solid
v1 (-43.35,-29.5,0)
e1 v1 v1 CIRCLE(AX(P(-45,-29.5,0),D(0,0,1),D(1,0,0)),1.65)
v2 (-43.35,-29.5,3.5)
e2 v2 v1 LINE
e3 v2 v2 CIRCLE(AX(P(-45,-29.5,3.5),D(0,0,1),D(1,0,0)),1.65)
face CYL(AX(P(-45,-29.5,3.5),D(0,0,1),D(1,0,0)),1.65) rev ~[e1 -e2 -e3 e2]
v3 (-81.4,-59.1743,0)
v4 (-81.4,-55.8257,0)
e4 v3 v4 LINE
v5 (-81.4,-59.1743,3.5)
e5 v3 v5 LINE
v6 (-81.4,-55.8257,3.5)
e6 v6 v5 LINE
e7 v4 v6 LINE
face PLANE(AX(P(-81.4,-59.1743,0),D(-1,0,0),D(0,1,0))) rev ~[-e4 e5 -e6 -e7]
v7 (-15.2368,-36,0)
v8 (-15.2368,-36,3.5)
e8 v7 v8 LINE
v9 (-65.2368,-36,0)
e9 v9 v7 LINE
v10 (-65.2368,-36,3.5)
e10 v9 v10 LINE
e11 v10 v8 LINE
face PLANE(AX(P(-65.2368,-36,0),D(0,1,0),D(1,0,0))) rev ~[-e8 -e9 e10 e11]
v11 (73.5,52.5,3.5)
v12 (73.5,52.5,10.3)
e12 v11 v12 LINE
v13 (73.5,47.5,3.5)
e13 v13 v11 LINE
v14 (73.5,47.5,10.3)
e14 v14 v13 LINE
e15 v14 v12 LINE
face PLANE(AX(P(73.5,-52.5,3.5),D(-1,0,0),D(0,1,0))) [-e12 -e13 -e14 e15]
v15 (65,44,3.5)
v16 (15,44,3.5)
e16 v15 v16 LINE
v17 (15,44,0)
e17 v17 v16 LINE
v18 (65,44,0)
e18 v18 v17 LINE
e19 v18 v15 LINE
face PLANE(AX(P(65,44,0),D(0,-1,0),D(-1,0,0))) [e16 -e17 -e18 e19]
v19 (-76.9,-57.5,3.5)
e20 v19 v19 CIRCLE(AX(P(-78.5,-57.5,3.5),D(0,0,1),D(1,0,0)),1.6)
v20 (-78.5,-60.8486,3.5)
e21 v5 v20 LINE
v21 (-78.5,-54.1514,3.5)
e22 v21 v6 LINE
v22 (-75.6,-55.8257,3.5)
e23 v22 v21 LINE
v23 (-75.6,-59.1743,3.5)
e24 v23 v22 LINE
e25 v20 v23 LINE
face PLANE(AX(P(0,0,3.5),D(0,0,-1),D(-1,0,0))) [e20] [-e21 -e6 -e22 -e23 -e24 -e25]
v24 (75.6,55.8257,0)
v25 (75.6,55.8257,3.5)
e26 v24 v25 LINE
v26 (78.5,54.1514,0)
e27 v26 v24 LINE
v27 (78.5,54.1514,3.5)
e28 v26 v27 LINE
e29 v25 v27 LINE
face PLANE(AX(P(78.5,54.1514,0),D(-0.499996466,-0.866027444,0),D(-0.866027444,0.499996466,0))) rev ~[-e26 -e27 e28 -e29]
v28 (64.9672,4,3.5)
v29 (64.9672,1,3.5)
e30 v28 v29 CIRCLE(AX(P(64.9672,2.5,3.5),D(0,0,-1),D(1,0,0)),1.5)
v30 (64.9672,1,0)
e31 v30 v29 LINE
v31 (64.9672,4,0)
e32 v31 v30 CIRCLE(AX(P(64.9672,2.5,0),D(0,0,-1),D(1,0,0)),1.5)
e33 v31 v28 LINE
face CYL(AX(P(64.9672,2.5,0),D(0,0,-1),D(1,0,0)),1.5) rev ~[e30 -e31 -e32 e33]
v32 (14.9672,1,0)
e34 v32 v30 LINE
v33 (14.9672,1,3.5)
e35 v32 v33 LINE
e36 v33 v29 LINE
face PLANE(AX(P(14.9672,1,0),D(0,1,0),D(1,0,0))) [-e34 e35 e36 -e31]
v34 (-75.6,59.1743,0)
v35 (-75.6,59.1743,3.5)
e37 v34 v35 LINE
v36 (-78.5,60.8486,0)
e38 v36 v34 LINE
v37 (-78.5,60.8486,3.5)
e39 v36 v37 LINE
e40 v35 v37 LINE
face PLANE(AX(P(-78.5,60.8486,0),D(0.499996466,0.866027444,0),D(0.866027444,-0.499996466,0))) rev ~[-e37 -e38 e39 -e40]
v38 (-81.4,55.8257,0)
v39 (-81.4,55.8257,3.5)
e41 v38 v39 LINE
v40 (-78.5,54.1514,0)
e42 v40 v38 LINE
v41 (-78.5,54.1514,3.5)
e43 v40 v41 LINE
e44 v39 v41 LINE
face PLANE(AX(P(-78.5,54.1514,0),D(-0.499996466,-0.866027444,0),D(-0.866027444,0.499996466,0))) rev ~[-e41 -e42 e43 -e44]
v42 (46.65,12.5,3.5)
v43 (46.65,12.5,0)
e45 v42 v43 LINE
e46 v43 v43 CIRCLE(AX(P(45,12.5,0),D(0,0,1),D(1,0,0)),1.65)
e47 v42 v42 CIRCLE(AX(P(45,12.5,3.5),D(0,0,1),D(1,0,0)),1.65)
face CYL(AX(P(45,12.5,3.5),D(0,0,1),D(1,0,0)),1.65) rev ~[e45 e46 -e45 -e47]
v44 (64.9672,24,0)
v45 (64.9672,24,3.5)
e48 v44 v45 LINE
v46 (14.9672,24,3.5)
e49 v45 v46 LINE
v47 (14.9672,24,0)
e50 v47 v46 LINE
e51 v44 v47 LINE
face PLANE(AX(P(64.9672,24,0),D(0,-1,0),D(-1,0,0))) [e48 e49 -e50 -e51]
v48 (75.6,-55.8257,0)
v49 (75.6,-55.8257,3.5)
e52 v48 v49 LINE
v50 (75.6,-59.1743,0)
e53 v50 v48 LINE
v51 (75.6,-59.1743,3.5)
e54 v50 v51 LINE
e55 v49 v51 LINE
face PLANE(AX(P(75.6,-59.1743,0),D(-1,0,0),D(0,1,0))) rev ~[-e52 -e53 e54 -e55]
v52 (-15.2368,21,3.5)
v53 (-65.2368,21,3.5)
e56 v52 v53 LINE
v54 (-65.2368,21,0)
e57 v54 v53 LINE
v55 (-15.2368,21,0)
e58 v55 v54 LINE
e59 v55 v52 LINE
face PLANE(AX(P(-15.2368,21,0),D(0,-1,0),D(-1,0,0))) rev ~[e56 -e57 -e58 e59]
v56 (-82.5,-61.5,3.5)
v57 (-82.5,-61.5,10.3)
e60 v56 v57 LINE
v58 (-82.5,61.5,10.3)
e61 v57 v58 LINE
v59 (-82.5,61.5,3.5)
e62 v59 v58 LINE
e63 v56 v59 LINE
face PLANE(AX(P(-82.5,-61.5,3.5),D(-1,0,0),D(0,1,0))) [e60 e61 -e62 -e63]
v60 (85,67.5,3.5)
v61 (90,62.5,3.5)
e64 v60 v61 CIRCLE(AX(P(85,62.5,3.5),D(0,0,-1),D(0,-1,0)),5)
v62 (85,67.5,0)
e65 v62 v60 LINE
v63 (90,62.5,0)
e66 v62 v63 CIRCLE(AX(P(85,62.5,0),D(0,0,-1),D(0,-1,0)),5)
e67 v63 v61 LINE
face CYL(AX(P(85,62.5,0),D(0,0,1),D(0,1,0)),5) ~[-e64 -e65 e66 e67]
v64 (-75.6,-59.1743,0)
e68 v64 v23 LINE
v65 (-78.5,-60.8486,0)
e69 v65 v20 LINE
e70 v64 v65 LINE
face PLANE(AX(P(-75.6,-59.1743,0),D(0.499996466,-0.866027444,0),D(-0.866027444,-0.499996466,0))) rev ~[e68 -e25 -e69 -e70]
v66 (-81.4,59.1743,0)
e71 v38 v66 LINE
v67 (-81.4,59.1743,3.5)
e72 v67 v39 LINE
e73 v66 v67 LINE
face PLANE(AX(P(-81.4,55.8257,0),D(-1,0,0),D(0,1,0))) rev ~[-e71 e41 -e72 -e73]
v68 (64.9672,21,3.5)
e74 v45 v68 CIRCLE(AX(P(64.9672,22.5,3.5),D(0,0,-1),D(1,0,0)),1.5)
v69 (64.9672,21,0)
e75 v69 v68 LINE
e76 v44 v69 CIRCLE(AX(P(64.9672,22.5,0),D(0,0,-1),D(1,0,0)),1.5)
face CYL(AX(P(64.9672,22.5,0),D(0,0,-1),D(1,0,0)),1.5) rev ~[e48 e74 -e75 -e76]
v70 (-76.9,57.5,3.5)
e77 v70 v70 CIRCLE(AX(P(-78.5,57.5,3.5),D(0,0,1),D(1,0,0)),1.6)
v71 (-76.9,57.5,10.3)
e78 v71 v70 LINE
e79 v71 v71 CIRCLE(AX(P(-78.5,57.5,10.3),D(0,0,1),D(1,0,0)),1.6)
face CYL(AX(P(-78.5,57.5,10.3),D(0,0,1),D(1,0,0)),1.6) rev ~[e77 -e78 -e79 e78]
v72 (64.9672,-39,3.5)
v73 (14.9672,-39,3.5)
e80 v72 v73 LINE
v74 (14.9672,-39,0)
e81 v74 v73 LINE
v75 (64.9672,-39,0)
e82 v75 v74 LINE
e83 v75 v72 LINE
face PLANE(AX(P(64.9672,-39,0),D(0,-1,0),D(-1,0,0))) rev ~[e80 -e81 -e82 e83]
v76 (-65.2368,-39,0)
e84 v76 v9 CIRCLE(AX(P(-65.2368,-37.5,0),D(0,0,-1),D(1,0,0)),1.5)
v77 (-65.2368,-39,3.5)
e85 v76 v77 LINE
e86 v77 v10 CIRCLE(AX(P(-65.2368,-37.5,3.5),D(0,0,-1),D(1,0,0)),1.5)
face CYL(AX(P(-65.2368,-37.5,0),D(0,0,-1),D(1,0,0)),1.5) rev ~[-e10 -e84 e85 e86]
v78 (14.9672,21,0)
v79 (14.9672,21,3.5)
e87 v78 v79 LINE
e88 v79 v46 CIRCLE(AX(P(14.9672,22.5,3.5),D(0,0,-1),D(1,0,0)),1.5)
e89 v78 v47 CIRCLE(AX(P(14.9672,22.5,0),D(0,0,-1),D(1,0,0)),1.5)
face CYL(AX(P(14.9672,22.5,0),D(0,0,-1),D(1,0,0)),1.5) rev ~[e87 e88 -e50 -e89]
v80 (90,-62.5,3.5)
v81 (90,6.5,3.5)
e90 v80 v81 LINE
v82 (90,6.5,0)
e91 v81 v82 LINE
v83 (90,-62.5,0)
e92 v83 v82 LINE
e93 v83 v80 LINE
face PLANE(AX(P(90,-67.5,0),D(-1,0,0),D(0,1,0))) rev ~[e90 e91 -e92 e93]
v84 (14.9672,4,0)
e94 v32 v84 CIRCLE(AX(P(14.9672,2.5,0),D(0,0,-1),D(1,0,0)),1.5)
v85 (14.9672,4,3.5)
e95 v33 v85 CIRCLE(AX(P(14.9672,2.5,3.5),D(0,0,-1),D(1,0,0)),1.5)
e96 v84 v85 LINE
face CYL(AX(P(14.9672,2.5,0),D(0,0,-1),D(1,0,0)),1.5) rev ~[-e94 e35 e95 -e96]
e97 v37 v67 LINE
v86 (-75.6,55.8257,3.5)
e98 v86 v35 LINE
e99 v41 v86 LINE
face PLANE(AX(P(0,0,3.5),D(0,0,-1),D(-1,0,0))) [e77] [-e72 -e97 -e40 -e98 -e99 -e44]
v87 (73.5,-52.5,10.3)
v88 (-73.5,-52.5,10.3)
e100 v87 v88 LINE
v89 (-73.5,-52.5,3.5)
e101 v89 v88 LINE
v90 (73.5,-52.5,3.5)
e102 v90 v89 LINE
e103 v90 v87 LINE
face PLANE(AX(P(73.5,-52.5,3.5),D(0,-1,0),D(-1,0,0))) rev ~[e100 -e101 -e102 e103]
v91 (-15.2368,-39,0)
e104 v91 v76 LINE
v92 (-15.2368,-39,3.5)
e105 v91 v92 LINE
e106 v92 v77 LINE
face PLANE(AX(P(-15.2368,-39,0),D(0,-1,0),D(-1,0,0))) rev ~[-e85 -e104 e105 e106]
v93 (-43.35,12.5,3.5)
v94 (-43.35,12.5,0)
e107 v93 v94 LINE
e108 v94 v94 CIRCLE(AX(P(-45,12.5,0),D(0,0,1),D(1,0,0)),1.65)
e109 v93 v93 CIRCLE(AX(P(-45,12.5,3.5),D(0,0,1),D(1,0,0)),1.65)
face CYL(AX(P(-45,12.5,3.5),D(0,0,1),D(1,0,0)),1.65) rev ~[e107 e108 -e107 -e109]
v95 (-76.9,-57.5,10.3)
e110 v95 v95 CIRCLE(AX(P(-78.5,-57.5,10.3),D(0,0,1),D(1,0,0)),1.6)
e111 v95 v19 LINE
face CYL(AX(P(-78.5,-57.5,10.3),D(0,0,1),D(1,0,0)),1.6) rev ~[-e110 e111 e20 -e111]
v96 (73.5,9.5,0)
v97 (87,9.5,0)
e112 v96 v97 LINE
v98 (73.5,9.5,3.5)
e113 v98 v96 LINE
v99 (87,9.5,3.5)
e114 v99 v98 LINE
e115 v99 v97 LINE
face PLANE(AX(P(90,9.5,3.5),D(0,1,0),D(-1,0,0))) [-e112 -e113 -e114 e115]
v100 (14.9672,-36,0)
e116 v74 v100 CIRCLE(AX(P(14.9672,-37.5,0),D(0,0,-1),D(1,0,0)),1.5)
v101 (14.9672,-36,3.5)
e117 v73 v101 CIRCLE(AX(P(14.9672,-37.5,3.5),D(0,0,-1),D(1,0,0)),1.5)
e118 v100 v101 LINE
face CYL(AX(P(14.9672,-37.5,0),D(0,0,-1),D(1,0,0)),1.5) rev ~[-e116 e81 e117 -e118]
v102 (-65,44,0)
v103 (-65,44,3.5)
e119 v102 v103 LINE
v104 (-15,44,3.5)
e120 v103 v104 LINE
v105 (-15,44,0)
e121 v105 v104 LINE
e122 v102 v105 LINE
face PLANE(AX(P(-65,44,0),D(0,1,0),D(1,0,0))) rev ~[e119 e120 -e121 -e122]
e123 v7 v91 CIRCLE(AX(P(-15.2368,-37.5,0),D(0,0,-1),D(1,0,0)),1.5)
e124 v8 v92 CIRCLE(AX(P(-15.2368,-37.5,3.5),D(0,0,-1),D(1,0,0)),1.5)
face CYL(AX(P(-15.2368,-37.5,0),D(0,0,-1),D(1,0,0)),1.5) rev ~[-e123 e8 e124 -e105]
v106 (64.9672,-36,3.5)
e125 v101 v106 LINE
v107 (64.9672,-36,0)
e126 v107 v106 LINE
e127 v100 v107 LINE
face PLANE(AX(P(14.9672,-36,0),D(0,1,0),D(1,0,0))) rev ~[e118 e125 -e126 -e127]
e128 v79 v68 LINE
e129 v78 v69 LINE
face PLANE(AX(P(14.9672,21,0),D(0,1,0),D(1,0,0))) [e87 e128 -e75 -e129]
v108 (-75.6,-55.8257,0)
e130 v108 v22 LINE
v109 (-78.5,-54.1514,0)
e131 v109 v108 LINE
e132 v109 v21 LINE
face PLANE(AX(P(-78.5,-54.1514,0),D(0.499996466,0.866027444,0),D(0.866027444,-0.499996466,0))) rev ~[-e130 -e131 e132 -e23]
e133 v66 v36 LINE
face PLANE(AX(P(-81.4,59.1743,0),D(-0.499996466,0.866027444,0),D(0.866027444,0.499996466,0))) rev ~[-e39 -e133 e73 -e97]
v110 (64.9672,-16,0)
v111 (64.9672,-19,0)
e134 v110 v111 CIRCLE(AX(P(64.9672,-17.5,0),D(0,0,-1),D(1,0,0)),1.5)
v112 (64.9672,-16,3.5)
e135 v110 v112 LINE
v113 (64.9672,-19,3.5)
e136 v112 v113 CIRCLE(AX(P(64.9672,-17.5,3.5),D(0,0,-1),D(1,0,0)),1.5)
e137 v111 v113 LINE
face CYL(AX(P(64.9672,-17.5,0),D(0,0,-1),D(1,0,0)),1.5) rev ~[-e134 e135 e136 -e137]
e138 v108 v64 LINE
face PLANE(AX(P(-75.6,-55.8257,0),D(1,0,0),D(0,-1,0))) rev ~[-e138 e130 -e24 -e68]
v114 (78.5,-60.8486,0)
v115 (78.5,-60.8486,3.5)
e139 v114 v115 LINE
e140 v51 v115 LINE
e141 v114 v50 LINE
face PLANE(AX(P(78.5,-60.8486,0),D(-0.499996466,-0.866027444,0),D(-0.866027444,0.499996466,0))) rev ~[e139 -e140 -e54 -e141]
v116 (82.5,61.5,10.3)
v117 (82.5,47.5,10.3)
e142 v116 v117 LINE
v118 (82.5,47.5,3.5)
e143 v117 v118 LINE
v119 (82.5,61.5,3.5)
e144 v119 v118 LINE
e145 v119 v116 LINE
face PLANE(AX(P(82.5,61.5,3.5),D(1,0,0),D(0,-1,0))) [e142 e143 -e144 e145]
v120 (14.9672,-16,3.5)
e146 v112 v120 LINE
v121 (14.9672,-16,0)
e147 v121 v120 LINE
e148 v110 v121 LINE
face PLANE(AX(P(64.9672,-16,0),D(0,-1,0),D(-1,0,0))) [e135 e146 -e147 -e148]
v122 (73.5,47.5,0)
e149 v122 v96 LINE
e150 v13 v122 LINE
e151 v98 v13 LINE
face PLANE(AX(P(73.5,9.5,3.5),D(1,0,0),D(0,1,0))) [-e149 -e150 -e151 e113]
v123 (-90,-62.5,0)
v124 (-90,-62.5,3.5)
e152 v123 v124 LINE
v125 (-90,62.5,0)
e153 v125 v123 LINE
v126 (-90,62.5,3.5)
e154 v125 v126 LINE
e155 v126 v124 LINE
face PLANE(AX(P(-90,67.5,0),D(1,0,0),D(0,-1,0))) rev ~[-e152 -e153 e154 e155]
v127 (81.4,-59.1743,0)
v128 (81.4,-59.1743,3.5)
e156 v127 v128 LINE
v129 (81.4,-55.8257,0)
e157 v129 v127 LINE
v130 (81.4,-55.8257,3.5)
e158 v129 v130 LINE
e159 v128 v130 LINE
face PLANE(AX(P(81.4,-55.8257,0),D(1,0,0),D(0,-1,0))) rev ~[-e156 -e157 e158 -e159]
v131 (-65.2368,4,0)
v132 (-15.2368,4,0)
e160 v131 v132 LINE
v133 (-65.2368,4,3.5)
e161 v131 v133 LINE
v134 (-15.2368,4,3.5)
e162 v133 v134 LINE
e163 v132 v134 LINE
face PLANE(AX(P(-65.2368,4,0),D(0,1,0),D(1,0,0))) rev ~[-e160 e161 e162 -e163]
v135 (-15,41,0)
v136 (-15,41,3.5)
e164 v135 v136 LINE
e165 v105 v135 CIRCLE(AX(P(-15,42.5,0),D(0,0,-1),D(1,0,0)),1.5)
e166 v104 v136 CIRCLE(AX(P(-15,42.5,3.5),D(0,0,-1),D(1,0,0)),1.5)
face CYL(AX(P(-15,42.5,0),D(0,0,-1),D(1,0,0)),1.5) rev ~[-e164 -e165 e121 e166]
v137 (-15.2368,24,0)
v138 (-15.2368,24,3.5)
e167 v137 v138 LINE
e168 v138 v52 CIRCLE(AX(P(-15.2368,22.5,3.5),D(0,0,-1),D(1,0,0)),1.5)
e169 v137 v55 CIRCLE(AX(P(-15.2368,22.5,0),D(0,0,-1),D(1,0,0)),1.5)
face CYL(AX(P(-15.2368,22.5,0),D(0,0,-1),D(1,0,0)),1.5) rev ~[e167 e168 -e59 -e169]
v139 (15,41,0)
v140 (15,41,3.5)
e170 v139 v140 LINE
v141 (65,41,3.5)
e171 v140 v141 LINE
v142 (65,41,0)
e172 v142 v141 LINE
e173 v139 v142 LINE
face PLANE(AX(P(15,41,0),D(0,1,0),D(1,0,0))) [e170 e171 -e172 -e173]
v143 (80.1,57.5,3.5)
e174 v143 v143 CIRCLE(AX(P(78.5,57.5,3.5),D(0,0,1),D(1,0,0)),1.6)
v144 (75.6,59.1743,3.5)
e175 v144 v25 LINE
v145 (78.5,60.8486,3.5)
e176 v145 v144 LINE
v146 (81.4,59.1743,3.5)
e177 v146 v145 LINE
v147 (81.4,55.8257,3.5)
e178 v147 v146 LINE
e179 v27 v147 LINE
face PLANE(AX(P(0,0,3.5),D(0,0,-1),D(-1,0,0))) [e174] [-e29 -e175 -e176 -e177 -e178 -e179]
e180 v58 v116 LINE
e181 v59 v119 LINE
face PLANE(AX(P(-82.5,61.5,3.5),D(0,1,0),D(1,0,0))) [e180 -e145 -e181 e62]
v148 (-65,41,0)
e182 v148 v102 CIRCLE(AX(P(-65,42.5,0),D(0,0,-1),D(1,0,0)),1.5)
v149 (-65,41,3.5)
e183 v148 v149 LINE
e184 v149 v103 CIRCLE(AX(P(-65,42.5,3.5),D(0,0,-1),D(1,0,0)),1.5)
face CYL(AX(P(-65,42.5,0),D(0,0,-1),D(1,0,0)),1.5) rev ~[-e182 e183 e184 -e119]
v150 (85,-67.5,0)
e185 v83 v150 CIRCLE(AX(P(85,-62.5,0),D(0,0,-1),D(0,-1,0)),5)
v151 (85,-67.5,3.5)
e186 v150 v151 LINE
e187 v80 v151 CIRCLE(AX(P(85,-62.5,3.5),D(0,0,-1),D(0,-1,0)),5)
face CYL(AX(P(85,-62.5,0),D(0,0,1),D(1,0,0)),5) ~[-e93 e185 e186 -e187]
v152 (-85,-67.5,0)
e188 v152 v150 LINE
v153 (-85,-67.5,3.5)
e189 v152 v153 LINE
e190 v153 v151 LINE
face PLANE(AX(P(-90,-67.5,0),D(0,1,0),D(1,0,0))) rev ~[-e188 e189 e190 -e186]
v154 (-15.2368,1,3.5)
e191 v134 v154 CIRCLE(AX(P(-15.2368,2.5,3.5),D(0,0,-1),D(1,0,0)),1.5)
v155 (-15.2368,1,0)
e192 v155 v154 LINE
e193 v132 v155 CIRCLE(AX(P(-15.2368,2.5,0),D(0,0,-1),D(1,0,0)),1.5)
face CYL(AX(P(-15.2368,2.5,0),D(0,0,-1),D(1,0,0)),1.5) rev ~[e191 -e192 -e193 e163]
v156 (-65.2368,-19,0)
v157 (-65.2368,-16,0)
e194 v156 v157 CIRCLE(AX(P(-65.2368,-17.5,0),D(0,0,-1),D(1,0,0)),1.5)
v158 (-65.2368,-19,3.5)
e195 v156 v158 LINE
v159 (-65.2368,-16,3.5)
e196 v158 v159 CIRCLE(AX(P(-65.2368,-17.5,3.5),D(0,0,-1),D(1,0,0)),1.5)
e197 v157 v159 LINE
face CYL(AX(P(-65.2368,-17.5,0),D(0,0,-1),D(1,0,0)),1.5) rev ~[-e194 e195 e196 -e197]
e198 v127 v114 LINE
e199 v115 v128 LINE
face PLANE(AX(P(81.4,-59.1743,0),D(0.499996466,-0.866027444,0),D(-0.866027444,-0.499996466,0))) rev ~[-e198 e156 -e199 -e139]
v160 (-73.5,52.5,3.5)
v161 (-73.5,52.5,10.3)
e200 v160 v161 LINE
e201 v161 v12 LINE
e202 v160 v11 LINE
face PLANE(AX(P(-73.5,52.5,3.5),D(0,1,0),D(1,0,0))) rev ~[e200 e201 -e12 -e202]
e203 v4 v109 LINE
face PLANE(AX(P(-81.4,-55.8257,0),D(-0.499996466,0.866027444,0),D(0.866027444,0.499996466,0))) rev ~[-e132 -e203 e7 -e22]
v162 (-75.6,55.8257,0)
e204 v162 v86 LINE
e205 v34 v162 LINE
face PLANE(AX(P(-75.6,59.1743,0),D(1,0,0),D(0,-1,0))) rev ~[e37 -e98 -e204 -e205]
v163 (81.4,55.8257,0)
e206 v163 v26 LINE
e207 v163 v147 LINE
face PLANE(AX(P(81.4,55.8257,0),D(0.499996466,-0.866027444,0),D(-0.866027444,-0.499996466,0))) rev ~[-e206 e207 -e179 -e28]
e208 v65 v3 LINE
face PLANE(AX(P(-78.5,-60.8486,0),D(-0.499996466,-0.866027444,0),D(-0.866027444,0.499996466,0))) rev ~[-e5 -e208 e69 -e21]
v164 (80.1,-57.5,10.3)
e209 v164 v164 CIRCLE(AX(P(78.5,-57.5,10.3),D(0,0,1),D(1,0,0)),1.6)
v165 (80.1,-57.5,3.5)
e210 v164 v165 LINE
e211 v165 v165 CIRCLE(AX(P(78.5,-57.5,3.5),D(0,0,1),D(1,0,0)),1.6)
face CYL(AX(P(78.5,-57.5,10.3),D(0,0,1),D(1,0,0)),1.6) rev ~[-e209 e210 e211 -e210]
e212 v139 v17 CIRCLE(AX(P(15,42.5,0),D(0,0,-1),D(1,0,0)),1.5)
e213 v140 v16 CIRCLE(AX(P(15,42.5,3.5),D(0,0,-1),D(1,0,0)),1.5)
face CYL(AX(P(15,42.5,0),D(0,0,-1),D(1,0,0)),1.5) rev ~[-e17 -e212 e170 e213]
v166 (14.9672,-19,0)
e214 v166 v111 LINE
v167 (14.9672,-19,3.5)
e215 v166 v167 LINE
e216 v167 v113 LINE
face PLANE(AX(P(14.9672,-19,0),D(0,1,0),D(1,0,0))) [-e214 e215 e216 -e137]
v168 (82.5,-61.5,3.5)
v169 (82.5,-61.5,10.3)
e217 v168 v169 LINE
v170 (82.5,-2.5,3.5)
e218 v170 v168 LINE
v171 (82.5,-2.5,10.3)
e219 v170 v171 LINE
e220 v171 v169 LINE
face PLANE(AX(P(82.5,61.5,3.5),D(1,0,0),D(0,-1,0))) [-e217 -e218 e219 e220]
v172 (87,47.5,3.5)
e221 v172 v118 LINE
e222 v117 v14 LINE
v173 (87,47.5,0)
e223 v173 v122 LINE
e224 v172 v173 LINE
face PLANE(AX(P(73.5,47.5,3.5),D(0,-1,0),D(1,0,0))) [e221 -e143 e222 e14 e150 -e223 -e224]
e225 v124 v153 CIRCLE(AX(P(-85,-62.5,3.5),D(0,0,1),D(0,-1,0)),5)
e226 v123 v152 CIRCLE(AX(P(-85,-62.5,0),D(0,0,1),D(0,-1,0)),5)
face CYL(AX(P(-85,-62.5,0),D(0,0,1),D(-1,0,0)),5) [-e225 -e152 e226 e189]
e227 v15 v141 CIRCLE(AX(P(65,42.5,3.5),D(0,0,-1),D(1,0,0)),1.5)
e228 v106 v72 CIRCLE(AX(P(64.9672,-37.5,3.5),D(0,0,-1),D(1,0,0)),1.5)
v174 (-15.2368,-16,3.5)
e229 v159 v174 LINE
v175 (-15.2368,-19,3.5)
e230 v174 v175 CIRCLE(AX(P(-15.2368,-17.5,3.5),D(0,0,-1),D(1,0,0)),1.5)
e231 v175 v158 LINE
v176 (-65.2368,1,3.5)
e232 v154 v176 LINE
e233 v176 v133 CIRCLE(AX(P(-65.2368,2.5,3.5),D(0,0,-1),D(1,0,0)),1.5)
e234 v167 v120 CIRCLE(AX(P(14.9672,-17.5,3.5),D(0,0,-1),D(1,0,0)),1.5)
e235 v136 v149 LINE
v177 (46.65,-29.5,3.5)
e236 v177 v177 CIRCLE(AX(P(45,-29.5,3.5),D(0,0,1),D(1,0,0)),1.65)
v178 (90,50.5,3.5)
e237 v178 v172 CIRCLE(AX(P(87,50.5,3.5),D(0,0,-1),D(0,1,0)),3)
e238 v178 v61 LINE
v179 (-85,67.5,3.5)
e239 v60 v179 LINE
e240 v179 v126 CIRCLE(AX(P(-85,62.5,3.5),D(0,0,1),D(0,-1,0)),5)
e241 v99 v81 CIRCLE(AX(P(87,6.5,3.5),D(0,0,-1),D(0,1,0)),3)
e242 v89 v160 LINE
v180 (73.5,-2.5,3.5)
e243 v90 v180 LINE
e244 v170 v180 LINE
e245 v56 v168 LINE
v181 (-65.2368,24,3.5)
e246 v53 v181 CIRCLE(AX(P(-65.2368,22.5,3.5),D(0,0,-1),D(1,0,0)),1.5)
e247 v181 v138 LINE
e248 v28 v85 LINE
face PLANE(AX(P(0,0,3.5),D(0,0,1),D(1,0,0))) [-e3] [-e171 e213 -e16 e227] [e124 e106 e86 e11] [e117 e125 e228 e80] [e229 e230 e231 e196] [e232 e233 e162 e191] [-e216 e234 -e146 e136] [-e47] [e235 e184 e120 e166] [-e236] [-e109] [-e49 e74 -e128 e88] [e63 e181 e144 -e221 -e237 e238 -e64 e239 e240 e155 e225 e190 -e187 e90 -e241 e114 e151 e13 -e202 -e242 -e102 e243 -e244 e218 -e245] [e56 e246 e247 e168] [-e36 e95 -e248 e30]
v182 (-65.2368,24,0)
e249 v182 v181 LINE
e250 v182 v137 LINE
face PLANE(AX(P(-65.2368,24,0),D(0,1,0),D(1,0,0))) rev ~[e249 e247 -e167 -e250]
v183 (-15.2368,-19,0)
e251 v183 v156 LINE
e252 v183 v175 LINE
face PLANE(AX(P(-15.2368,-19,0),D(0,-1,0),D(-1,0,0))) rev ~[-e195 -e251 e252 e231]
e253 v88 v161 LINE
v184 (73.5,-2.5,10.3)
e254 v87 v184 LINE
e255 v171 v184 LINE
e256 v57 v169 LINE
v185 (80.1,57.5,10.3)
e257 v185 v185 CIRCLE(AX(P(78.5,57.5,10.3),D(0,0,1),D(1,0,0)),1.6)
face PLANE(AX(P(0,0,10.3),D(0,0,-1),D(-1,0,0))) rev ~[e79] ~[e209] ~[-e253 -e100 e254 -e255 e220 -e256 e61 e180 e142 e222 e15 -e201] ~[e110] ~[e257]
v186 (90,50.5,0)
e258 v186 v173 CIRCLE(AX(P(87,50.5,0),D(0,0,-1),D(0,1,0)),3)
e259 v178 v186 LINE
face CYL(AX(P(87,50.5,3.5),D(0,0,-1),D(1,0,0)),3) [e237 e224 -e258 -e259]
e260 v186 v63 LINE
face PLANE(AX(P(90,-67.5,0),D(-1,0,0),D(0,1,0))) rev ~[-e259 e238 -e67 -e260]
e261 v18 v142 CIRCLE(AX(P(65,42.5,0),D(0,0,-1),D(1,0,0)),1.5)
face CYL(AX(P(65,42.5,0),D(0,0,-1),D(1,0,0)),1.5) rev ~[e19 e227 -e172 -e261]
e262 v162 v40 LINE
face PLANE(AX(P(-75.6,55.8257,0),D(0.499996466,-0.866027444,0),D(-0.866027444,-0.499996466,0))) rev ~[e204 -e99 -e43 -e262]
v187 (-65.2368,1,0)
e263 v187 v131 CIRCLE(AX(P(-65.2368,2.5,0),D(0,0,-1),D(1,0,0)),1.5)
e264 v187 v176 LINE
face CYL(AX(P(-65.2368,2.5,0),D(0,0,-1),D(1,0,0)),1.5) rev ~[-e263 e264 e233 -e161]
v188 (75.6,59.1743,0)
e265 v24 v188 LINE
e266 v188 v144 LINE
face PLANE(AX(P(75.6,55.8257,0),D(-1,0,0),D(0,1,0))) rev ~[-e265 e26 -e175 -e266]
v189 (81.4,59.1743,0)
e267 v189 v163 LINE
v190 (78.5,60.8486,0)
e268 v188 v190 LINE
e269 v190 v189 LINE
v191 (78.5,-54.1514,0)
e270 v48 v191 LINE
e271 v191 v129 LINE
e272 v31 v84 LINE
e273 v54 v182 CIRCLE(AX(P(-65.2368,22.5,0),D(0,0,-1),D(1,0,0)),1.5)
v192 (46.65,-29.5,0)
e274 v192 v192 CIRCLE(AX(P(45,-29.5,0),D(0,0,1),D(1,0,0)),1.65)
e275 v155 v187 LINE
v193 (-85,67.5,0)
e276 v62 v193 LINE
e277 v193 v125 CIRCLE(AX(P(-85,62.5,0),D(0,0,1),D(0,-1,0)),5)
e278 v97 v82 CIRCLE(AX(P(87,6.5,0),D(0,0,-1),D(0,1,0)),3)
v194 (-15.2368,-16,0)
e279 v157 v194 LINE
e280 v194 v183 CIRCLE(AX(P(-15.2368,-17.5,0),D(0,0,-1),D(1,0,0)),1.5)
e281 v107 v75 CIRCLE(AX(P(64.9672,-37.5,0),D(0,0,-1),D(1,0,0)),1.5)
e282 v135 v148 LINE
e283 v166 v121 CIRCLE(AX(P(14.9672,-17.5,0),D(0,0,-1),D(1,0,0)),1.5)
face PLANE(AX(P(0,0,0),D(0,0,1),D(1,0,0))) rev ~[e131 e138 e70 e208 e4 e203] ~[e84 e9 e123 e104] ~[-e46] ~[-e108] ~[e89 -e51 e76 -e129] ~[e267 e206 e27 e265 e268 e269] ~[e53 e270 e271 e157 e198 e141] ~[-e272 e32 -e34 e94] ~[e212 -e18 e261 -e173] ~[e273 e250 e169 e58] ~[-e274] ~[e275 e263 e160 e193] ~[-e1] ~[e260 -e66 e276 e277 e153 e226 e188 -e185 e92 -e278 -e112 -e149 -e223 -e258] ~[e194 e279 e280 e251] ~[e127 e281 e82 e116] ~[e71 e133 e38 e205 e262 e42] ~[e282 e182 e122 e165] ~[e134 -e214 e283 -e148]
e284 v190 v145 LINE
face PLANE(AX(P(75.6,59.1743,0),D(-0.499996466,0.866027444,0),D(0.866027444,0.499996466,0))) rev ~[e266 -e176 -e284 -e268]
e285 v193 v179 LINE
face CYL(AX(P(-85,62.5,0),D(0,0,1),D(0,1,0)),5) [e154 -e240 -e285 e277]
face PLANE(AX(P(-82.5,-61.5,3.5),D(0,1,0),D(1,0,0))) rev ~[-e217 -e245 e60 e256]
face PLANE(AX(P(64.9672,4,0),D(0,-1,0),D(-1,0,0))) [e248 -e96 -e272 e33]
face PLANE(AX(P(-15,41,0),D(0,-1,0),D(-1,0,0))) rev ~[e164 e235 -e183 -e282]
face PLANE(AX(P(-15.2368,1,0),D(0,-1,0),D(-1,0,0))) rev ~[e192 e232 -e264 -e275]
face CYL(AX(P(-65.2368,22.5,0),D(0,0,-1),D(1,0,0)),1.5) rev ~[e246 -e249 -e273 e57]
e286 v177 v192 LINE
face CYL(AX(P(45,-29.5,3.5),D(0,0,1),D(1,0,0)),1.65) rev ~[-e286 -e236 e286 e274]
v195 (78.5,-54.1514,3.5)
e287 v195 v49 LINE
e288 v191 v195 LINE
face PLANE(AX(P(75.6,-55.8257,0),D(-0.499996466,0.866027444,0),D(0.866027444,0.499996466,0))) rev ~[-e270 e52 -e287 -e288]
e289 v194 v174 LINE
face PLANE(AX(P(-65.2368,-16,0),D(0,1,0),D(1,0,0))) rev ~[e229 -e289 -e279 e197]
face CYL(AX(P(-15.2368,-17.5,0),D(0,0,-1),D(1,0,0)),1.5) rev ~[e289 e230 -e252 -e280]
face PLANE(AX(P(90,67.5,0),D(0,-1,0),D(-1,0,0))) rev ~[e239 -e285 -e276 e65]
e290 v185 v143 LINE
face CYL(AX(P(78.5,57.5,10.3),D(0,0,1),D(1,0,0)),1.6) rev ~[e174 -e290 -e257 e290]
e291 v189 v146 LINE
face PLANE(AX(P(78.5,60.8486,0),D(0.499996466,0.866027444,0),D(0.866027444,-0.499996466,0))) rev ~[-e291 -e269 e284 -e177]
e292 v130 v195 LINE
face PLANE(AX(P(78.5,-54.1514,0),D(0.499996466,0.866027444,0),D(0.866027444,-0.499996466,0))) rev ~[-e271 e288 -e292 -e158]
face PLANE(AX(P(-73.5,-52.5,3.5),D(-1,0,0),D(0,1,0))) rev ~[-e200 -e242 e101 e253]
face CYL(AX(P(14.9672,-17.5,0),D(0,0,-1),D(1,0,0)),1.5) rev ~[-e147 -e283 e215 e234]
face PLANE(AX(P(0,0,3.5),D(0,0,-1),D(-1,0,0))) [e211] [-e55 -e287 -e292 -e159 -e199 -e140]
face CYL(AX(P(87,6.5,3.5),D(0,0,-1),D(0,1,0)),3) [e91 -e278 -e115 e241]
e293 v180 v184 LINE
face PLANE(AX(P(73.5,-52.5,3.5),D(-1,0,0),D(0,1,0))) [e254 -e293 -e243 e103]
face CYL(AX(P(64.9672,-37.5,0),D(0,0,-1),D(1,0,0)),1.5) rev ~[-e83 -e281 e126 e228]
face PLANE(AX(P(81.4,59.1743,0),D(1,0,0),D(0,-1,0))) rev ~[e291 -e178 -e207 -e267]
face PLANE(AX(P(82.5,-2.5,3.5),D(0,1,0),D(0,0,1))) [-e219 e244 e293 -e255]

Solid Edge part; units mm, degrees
sketch "Sketch1" plane through (0, 0, 0) normal (0, 0, 1) x (1, 0, 0)
  line L0 (90, 67.5) -> (-90, 67.5)
  line L1 (-90, 67.5) -> (-90, -67.5)
  line L2 (-90, -67.5) -> (90, -67.5)
  line L3 (90, -67.5) -> (90, 67.5)
  circle A0 centre (-78.5, 57.5) radius 1.6
  circle A1 centre (78.5, 57.5) radius 1.6
  circle A2 centre (78.5, -57.5) radius 1.6
  line L4 (-65, 44) -> (-15, 44)
  line L5 (-15, 41) -> (-65, 41)
  arc A3 (-15, 44) -> (-15, 41) centre (-15, 42.5) cw
  arc A4 (-65, 41) -> (-65, 44) centre (-65, 42.5) cw
  line L6 (-65.2368, 24) -> (-15.2368, 24)
  line L7 (-15.2368, 21) -> (-65.2368, 21)
  arc A5 (-15.2368, 24) -> (-15.2368, 21) centre (-15.2368, 22.5) cw
  arc A6 (-65.2368, 21) -> (-65.2368, 24) centre (-65.2368, 22.5) cw
  line L8 (-65.2368, 4) -> (-15.2368, 4)
  line L9 (-15.2368, 1) -> (-65.2368, 1)
  arc A7 (-15.2368, 4) -> (-15.2368, 1) centre (-15.2368, 2.5) cw
  arc A8 (-65.2368, 1) -> (-65.2368, 4) centre (-65.2368, 2.5) cw
  line L10 (-65.2368, -16) -> (-15.2368, -16)
  line L11 (-15.2368, -19) -> (-65.2368, -19)
  arc A9 (-15.2368, -16) -> (-15.2368, -19) centre (-15.2368, -17.5) cw
  arc A10 (-65.2368, -19) -> (-65.2368, -16) centre (-65.2368, -17.5) cw
  line L12 (-65.2368, -36) -> (-15.2368, -36)
  line L13 (-15.2368, -39) -> (-65.2368, -39)
  arc A11 (-15.2368, -36) -> (-15.2368, -39) centre (-15.2368, -37.5) cw
  arc A12 (-65.2368, -39) -> (-65.2368, -36) centre (-65.2368, -37.5) cw
  line L14 (14.9672, -36) -> (64.9672, -36)
  line L15 (64.9672, -39) -> (14.9672, -39)
  arc A13 (64.9672, -36) -> (64.9672, -39) centre (64.9672, -37.5) cw
  arc A14 (14.9672, -39) -> (14.9672, -36) centre (14.9672, -37.5) cw
  line L16 (64.9672, -16) -> (14.9672, -16)
  line L17 (14.9672, -19) -> (64.9672, -19)
  arc A15 (14.9672, -19) -> (14.9672, -16) centre (14.9672, -17.5) cw
  arc A16 (64.9672, -16) -> (64.9672, -19) centre (64.9672, -17.5) cw
  line L18 (64.9672, 4) -> (14.9672, 4)
  line L19 (14.9672, 1) -> (64.9672, 1)
  arc A17 (14.9672, 1) -> (14.9672, 4) centre (14.9672, 2.5) cw
  arc A18 (64.9672, 4) -> (64.9672, 1) centre (64.9672, 2.5) cw
  line L20 (64.9672, 24) -> (14.9672, 24)
  line L21 (14.9672, 21) -> (64.9672, 21)
  arc A19 (14.9672, 21) -> (14.9672, 24) centre (14.9672, 22.5) cw
  arc A20 (64.9672, 24) -> (64.9672, 21) centre (64.9672, 22.5) cw
  line L22 (15, 41) -> (65, 41)
  line L23 (65, 44) -> (15, 44)
  arc A21 (65, 44) -> (65, 41) centre (65, 42.5) cw
  arc A22 (15, 41) -> (15, 44) centre (15, 42.5) cw
  circle A23 centre (-78.5, -57.5) radius 1.6
extrude "Protrusion1" add sketch "Sketch1" along normal blind 3.5
sketch "Sketch2" plane through (0, 0, 0) normal (0, 0, -1) x (-1, 0, 0)
  line L0 (-75.6, 55.8257) -> (-75.6, 59.1743)
  line L1 (-75.6, 59.1743) -> (-78.5, 60.8486)
  line L2 (-78.5, 60.8486) -> (-81.4, 59.1743)
  line L3 (-81.4, 59.1743) -> (-81.4, 55.8257)
  line L4 (-81.4, 55.8257) -> (-78.5, 54.1514)
  line L5 (-78.5, 54.1514) -> (-75.6, 55.8257)
  line L6 (-78.5, -60.8486) -> (-75.6, -59.1743)
  line L7 (-75.6, -59.1743) -> (-75.6, -55.8257)
  line L8 (-75.6, -55.8257) -> (-78.5, -54.1514)
  line L9 (-78.5, -54.1514) -> (-81.4, -55.8257)
  line L10 (-81.4, -55.8257) -> (-81.4, -59.1743)
  line L11 (-81.4, -59.1743) -> (-78.5, -60.8486)
  line L12 (81.4, 55.8257) -> (81.4, 59.1743)
  line L13 (81.4, 59.1743) -> (78.5, 60.8486)
  line L14 (78.5, 60.8486) -> (75.6, 59.1743)
  line L15 (75.6, 59.1743) -> (75.6, 55.8257)
  line L16 (75.6, 55.8257) -> (78.5, 54.1514)
  line L17 (78.5, 54.1514) -> (81.4, 55.8257)
  line L18 (75.6, -55.8257) -> (75.6, -59.1743)
  line L19 (75.6, -59.1743) -> (78.5, -60.8486)
  line L20 (78.5, -60.8486) -> (81.4, -59.1743)
  line L21 (81.4, -59.1743) -> (81.4, -55.8257)
  line L22 (81.4, -55.8257) -> (78.5, -54.1514)
  line L23 (78.5, -54.1514) -> (75.6, -55.8257)
  dimension "D1" = 5.8
  dimension "D2" = 5.8
  dimension "D3" = 5.8
  dimension "D4" = 5.8
extrude "ExtrudedCutout_1" cut sketch "Sketch2" against normal blind 4
sketch "Sketch3" plane through (0, 0, 3.5) normal (0, 0, 1) x (1, 0, 0)
  line L0 (-82.5, 61.5) -> (82.5, 61.5)
  line L1 (82.5, 61.5) -> (82.5, -61.5)
  line L2 (-82.5, -61.5) -> (82.5, -61.5)
  line L3 (-82.5, -61.5) -> (-82.5, 61.5)
  line L4 (-73.5, 52.5) -> (73.5, 52.5)
  line L5 (73.5, -52.5) -> (73.5, 52.5)
  line L6 (73.5, -52.5) -> (-73.5, -52.5)
  line L7 (-73.5, -52.5) -> (-73.5, 52.5)
  dimension "D1" = 147
  dimension "D2" = 147
  dimension "D3" = 165
  dimension "D4" = 123
  dimension "D5" = 105
extrude "ExtrudedProtrusion_2" add sketch "Sketch3" along normal blind 6.8
sketch "Sketch4" plane through (0, 0, 10.3) normal (0, 0, 1) x (1, 0, 0)
  circle A0 centre (-78.5, 57.5) radius 1.6
  circle A1 centre (-78.5, -57.5) radius 1.6
  circle A2 centre (78.5, -57.5) radius 1.6
  circle A3 centre (78.5, 57.5) radius 1.6
  dimension "D1" = 3.2
  dimension "D2" = 3.2
  dimension "D3" = 3.2
extrude "Cutout1" cut sketch "Sketch4" against normal through all
sketch "Sketch5" plane through (82.5, 0, 8) normal (1, 0, 0) x (0, 1, 0)
  line L0 (-2.5, -4.5) -> (-2.5, 2.3)
  line L1 (-2.5, 2.3) -> (47.5, 2.3)
  line L2 (47.5, 2.3) -> (47.5, -4.5)
  line L3 (47.5, -4.5) -> (-2.5, -4.5)
extrude "Cutout2" cut sketch "Sketch5" against normal up to next
sketch "Sketch6" plane through (0, 0, 3.5) normal (0, 0, 1) x (1, 0, 0)
  circle A0 centre (-45, 12.5) radius 1.65
  circle A1 centre (-45, -29.5) radius 1.65
  circle A2 centre (45, -29.5) radius 1.65
  circle A3 centre (45, 12.5) radius 1.65
  dimension "D1" = 3.3
  dimension "D2" = 3.3
  dimension "D3" = 3.3
  dimension "D4" = 3.3
  dimension "D5" = 38
  dimension "D6" = 90
  dimension "D7" = 45
  dimension "D8" = 45
  dimension "D9" = 42
extrude "Cutout3" cut sketch "Sketch6" against normal up to next
fillet "Round1" radius 5 4 edges at (90, 67.5, 1.75) (-90, 67.5, 1.75) (-90, -67.5, 1.75) (90, -67.5, 1.75)
sketch "Sketch7" plane through (0, 0, 3.5) normal (0, 0, 1) x (1, 0, 0)
  line L0 (90, 9.5) -> (73.5, 9.5)
  line L1 (73.5, 9.5) -> (73.5, 47.5)
  line L2 (73.5, 47.5) -> (90, 47.5)
  line L3 (90, 47.5) -> (90, 9.5)
extrude "Cutout4" cut sketch "Sketch7" against normal up to next
fillet "Round_2" radius 3 2 edges at (90, 47.5, 1.75) (90, 9.5, 1.75)
